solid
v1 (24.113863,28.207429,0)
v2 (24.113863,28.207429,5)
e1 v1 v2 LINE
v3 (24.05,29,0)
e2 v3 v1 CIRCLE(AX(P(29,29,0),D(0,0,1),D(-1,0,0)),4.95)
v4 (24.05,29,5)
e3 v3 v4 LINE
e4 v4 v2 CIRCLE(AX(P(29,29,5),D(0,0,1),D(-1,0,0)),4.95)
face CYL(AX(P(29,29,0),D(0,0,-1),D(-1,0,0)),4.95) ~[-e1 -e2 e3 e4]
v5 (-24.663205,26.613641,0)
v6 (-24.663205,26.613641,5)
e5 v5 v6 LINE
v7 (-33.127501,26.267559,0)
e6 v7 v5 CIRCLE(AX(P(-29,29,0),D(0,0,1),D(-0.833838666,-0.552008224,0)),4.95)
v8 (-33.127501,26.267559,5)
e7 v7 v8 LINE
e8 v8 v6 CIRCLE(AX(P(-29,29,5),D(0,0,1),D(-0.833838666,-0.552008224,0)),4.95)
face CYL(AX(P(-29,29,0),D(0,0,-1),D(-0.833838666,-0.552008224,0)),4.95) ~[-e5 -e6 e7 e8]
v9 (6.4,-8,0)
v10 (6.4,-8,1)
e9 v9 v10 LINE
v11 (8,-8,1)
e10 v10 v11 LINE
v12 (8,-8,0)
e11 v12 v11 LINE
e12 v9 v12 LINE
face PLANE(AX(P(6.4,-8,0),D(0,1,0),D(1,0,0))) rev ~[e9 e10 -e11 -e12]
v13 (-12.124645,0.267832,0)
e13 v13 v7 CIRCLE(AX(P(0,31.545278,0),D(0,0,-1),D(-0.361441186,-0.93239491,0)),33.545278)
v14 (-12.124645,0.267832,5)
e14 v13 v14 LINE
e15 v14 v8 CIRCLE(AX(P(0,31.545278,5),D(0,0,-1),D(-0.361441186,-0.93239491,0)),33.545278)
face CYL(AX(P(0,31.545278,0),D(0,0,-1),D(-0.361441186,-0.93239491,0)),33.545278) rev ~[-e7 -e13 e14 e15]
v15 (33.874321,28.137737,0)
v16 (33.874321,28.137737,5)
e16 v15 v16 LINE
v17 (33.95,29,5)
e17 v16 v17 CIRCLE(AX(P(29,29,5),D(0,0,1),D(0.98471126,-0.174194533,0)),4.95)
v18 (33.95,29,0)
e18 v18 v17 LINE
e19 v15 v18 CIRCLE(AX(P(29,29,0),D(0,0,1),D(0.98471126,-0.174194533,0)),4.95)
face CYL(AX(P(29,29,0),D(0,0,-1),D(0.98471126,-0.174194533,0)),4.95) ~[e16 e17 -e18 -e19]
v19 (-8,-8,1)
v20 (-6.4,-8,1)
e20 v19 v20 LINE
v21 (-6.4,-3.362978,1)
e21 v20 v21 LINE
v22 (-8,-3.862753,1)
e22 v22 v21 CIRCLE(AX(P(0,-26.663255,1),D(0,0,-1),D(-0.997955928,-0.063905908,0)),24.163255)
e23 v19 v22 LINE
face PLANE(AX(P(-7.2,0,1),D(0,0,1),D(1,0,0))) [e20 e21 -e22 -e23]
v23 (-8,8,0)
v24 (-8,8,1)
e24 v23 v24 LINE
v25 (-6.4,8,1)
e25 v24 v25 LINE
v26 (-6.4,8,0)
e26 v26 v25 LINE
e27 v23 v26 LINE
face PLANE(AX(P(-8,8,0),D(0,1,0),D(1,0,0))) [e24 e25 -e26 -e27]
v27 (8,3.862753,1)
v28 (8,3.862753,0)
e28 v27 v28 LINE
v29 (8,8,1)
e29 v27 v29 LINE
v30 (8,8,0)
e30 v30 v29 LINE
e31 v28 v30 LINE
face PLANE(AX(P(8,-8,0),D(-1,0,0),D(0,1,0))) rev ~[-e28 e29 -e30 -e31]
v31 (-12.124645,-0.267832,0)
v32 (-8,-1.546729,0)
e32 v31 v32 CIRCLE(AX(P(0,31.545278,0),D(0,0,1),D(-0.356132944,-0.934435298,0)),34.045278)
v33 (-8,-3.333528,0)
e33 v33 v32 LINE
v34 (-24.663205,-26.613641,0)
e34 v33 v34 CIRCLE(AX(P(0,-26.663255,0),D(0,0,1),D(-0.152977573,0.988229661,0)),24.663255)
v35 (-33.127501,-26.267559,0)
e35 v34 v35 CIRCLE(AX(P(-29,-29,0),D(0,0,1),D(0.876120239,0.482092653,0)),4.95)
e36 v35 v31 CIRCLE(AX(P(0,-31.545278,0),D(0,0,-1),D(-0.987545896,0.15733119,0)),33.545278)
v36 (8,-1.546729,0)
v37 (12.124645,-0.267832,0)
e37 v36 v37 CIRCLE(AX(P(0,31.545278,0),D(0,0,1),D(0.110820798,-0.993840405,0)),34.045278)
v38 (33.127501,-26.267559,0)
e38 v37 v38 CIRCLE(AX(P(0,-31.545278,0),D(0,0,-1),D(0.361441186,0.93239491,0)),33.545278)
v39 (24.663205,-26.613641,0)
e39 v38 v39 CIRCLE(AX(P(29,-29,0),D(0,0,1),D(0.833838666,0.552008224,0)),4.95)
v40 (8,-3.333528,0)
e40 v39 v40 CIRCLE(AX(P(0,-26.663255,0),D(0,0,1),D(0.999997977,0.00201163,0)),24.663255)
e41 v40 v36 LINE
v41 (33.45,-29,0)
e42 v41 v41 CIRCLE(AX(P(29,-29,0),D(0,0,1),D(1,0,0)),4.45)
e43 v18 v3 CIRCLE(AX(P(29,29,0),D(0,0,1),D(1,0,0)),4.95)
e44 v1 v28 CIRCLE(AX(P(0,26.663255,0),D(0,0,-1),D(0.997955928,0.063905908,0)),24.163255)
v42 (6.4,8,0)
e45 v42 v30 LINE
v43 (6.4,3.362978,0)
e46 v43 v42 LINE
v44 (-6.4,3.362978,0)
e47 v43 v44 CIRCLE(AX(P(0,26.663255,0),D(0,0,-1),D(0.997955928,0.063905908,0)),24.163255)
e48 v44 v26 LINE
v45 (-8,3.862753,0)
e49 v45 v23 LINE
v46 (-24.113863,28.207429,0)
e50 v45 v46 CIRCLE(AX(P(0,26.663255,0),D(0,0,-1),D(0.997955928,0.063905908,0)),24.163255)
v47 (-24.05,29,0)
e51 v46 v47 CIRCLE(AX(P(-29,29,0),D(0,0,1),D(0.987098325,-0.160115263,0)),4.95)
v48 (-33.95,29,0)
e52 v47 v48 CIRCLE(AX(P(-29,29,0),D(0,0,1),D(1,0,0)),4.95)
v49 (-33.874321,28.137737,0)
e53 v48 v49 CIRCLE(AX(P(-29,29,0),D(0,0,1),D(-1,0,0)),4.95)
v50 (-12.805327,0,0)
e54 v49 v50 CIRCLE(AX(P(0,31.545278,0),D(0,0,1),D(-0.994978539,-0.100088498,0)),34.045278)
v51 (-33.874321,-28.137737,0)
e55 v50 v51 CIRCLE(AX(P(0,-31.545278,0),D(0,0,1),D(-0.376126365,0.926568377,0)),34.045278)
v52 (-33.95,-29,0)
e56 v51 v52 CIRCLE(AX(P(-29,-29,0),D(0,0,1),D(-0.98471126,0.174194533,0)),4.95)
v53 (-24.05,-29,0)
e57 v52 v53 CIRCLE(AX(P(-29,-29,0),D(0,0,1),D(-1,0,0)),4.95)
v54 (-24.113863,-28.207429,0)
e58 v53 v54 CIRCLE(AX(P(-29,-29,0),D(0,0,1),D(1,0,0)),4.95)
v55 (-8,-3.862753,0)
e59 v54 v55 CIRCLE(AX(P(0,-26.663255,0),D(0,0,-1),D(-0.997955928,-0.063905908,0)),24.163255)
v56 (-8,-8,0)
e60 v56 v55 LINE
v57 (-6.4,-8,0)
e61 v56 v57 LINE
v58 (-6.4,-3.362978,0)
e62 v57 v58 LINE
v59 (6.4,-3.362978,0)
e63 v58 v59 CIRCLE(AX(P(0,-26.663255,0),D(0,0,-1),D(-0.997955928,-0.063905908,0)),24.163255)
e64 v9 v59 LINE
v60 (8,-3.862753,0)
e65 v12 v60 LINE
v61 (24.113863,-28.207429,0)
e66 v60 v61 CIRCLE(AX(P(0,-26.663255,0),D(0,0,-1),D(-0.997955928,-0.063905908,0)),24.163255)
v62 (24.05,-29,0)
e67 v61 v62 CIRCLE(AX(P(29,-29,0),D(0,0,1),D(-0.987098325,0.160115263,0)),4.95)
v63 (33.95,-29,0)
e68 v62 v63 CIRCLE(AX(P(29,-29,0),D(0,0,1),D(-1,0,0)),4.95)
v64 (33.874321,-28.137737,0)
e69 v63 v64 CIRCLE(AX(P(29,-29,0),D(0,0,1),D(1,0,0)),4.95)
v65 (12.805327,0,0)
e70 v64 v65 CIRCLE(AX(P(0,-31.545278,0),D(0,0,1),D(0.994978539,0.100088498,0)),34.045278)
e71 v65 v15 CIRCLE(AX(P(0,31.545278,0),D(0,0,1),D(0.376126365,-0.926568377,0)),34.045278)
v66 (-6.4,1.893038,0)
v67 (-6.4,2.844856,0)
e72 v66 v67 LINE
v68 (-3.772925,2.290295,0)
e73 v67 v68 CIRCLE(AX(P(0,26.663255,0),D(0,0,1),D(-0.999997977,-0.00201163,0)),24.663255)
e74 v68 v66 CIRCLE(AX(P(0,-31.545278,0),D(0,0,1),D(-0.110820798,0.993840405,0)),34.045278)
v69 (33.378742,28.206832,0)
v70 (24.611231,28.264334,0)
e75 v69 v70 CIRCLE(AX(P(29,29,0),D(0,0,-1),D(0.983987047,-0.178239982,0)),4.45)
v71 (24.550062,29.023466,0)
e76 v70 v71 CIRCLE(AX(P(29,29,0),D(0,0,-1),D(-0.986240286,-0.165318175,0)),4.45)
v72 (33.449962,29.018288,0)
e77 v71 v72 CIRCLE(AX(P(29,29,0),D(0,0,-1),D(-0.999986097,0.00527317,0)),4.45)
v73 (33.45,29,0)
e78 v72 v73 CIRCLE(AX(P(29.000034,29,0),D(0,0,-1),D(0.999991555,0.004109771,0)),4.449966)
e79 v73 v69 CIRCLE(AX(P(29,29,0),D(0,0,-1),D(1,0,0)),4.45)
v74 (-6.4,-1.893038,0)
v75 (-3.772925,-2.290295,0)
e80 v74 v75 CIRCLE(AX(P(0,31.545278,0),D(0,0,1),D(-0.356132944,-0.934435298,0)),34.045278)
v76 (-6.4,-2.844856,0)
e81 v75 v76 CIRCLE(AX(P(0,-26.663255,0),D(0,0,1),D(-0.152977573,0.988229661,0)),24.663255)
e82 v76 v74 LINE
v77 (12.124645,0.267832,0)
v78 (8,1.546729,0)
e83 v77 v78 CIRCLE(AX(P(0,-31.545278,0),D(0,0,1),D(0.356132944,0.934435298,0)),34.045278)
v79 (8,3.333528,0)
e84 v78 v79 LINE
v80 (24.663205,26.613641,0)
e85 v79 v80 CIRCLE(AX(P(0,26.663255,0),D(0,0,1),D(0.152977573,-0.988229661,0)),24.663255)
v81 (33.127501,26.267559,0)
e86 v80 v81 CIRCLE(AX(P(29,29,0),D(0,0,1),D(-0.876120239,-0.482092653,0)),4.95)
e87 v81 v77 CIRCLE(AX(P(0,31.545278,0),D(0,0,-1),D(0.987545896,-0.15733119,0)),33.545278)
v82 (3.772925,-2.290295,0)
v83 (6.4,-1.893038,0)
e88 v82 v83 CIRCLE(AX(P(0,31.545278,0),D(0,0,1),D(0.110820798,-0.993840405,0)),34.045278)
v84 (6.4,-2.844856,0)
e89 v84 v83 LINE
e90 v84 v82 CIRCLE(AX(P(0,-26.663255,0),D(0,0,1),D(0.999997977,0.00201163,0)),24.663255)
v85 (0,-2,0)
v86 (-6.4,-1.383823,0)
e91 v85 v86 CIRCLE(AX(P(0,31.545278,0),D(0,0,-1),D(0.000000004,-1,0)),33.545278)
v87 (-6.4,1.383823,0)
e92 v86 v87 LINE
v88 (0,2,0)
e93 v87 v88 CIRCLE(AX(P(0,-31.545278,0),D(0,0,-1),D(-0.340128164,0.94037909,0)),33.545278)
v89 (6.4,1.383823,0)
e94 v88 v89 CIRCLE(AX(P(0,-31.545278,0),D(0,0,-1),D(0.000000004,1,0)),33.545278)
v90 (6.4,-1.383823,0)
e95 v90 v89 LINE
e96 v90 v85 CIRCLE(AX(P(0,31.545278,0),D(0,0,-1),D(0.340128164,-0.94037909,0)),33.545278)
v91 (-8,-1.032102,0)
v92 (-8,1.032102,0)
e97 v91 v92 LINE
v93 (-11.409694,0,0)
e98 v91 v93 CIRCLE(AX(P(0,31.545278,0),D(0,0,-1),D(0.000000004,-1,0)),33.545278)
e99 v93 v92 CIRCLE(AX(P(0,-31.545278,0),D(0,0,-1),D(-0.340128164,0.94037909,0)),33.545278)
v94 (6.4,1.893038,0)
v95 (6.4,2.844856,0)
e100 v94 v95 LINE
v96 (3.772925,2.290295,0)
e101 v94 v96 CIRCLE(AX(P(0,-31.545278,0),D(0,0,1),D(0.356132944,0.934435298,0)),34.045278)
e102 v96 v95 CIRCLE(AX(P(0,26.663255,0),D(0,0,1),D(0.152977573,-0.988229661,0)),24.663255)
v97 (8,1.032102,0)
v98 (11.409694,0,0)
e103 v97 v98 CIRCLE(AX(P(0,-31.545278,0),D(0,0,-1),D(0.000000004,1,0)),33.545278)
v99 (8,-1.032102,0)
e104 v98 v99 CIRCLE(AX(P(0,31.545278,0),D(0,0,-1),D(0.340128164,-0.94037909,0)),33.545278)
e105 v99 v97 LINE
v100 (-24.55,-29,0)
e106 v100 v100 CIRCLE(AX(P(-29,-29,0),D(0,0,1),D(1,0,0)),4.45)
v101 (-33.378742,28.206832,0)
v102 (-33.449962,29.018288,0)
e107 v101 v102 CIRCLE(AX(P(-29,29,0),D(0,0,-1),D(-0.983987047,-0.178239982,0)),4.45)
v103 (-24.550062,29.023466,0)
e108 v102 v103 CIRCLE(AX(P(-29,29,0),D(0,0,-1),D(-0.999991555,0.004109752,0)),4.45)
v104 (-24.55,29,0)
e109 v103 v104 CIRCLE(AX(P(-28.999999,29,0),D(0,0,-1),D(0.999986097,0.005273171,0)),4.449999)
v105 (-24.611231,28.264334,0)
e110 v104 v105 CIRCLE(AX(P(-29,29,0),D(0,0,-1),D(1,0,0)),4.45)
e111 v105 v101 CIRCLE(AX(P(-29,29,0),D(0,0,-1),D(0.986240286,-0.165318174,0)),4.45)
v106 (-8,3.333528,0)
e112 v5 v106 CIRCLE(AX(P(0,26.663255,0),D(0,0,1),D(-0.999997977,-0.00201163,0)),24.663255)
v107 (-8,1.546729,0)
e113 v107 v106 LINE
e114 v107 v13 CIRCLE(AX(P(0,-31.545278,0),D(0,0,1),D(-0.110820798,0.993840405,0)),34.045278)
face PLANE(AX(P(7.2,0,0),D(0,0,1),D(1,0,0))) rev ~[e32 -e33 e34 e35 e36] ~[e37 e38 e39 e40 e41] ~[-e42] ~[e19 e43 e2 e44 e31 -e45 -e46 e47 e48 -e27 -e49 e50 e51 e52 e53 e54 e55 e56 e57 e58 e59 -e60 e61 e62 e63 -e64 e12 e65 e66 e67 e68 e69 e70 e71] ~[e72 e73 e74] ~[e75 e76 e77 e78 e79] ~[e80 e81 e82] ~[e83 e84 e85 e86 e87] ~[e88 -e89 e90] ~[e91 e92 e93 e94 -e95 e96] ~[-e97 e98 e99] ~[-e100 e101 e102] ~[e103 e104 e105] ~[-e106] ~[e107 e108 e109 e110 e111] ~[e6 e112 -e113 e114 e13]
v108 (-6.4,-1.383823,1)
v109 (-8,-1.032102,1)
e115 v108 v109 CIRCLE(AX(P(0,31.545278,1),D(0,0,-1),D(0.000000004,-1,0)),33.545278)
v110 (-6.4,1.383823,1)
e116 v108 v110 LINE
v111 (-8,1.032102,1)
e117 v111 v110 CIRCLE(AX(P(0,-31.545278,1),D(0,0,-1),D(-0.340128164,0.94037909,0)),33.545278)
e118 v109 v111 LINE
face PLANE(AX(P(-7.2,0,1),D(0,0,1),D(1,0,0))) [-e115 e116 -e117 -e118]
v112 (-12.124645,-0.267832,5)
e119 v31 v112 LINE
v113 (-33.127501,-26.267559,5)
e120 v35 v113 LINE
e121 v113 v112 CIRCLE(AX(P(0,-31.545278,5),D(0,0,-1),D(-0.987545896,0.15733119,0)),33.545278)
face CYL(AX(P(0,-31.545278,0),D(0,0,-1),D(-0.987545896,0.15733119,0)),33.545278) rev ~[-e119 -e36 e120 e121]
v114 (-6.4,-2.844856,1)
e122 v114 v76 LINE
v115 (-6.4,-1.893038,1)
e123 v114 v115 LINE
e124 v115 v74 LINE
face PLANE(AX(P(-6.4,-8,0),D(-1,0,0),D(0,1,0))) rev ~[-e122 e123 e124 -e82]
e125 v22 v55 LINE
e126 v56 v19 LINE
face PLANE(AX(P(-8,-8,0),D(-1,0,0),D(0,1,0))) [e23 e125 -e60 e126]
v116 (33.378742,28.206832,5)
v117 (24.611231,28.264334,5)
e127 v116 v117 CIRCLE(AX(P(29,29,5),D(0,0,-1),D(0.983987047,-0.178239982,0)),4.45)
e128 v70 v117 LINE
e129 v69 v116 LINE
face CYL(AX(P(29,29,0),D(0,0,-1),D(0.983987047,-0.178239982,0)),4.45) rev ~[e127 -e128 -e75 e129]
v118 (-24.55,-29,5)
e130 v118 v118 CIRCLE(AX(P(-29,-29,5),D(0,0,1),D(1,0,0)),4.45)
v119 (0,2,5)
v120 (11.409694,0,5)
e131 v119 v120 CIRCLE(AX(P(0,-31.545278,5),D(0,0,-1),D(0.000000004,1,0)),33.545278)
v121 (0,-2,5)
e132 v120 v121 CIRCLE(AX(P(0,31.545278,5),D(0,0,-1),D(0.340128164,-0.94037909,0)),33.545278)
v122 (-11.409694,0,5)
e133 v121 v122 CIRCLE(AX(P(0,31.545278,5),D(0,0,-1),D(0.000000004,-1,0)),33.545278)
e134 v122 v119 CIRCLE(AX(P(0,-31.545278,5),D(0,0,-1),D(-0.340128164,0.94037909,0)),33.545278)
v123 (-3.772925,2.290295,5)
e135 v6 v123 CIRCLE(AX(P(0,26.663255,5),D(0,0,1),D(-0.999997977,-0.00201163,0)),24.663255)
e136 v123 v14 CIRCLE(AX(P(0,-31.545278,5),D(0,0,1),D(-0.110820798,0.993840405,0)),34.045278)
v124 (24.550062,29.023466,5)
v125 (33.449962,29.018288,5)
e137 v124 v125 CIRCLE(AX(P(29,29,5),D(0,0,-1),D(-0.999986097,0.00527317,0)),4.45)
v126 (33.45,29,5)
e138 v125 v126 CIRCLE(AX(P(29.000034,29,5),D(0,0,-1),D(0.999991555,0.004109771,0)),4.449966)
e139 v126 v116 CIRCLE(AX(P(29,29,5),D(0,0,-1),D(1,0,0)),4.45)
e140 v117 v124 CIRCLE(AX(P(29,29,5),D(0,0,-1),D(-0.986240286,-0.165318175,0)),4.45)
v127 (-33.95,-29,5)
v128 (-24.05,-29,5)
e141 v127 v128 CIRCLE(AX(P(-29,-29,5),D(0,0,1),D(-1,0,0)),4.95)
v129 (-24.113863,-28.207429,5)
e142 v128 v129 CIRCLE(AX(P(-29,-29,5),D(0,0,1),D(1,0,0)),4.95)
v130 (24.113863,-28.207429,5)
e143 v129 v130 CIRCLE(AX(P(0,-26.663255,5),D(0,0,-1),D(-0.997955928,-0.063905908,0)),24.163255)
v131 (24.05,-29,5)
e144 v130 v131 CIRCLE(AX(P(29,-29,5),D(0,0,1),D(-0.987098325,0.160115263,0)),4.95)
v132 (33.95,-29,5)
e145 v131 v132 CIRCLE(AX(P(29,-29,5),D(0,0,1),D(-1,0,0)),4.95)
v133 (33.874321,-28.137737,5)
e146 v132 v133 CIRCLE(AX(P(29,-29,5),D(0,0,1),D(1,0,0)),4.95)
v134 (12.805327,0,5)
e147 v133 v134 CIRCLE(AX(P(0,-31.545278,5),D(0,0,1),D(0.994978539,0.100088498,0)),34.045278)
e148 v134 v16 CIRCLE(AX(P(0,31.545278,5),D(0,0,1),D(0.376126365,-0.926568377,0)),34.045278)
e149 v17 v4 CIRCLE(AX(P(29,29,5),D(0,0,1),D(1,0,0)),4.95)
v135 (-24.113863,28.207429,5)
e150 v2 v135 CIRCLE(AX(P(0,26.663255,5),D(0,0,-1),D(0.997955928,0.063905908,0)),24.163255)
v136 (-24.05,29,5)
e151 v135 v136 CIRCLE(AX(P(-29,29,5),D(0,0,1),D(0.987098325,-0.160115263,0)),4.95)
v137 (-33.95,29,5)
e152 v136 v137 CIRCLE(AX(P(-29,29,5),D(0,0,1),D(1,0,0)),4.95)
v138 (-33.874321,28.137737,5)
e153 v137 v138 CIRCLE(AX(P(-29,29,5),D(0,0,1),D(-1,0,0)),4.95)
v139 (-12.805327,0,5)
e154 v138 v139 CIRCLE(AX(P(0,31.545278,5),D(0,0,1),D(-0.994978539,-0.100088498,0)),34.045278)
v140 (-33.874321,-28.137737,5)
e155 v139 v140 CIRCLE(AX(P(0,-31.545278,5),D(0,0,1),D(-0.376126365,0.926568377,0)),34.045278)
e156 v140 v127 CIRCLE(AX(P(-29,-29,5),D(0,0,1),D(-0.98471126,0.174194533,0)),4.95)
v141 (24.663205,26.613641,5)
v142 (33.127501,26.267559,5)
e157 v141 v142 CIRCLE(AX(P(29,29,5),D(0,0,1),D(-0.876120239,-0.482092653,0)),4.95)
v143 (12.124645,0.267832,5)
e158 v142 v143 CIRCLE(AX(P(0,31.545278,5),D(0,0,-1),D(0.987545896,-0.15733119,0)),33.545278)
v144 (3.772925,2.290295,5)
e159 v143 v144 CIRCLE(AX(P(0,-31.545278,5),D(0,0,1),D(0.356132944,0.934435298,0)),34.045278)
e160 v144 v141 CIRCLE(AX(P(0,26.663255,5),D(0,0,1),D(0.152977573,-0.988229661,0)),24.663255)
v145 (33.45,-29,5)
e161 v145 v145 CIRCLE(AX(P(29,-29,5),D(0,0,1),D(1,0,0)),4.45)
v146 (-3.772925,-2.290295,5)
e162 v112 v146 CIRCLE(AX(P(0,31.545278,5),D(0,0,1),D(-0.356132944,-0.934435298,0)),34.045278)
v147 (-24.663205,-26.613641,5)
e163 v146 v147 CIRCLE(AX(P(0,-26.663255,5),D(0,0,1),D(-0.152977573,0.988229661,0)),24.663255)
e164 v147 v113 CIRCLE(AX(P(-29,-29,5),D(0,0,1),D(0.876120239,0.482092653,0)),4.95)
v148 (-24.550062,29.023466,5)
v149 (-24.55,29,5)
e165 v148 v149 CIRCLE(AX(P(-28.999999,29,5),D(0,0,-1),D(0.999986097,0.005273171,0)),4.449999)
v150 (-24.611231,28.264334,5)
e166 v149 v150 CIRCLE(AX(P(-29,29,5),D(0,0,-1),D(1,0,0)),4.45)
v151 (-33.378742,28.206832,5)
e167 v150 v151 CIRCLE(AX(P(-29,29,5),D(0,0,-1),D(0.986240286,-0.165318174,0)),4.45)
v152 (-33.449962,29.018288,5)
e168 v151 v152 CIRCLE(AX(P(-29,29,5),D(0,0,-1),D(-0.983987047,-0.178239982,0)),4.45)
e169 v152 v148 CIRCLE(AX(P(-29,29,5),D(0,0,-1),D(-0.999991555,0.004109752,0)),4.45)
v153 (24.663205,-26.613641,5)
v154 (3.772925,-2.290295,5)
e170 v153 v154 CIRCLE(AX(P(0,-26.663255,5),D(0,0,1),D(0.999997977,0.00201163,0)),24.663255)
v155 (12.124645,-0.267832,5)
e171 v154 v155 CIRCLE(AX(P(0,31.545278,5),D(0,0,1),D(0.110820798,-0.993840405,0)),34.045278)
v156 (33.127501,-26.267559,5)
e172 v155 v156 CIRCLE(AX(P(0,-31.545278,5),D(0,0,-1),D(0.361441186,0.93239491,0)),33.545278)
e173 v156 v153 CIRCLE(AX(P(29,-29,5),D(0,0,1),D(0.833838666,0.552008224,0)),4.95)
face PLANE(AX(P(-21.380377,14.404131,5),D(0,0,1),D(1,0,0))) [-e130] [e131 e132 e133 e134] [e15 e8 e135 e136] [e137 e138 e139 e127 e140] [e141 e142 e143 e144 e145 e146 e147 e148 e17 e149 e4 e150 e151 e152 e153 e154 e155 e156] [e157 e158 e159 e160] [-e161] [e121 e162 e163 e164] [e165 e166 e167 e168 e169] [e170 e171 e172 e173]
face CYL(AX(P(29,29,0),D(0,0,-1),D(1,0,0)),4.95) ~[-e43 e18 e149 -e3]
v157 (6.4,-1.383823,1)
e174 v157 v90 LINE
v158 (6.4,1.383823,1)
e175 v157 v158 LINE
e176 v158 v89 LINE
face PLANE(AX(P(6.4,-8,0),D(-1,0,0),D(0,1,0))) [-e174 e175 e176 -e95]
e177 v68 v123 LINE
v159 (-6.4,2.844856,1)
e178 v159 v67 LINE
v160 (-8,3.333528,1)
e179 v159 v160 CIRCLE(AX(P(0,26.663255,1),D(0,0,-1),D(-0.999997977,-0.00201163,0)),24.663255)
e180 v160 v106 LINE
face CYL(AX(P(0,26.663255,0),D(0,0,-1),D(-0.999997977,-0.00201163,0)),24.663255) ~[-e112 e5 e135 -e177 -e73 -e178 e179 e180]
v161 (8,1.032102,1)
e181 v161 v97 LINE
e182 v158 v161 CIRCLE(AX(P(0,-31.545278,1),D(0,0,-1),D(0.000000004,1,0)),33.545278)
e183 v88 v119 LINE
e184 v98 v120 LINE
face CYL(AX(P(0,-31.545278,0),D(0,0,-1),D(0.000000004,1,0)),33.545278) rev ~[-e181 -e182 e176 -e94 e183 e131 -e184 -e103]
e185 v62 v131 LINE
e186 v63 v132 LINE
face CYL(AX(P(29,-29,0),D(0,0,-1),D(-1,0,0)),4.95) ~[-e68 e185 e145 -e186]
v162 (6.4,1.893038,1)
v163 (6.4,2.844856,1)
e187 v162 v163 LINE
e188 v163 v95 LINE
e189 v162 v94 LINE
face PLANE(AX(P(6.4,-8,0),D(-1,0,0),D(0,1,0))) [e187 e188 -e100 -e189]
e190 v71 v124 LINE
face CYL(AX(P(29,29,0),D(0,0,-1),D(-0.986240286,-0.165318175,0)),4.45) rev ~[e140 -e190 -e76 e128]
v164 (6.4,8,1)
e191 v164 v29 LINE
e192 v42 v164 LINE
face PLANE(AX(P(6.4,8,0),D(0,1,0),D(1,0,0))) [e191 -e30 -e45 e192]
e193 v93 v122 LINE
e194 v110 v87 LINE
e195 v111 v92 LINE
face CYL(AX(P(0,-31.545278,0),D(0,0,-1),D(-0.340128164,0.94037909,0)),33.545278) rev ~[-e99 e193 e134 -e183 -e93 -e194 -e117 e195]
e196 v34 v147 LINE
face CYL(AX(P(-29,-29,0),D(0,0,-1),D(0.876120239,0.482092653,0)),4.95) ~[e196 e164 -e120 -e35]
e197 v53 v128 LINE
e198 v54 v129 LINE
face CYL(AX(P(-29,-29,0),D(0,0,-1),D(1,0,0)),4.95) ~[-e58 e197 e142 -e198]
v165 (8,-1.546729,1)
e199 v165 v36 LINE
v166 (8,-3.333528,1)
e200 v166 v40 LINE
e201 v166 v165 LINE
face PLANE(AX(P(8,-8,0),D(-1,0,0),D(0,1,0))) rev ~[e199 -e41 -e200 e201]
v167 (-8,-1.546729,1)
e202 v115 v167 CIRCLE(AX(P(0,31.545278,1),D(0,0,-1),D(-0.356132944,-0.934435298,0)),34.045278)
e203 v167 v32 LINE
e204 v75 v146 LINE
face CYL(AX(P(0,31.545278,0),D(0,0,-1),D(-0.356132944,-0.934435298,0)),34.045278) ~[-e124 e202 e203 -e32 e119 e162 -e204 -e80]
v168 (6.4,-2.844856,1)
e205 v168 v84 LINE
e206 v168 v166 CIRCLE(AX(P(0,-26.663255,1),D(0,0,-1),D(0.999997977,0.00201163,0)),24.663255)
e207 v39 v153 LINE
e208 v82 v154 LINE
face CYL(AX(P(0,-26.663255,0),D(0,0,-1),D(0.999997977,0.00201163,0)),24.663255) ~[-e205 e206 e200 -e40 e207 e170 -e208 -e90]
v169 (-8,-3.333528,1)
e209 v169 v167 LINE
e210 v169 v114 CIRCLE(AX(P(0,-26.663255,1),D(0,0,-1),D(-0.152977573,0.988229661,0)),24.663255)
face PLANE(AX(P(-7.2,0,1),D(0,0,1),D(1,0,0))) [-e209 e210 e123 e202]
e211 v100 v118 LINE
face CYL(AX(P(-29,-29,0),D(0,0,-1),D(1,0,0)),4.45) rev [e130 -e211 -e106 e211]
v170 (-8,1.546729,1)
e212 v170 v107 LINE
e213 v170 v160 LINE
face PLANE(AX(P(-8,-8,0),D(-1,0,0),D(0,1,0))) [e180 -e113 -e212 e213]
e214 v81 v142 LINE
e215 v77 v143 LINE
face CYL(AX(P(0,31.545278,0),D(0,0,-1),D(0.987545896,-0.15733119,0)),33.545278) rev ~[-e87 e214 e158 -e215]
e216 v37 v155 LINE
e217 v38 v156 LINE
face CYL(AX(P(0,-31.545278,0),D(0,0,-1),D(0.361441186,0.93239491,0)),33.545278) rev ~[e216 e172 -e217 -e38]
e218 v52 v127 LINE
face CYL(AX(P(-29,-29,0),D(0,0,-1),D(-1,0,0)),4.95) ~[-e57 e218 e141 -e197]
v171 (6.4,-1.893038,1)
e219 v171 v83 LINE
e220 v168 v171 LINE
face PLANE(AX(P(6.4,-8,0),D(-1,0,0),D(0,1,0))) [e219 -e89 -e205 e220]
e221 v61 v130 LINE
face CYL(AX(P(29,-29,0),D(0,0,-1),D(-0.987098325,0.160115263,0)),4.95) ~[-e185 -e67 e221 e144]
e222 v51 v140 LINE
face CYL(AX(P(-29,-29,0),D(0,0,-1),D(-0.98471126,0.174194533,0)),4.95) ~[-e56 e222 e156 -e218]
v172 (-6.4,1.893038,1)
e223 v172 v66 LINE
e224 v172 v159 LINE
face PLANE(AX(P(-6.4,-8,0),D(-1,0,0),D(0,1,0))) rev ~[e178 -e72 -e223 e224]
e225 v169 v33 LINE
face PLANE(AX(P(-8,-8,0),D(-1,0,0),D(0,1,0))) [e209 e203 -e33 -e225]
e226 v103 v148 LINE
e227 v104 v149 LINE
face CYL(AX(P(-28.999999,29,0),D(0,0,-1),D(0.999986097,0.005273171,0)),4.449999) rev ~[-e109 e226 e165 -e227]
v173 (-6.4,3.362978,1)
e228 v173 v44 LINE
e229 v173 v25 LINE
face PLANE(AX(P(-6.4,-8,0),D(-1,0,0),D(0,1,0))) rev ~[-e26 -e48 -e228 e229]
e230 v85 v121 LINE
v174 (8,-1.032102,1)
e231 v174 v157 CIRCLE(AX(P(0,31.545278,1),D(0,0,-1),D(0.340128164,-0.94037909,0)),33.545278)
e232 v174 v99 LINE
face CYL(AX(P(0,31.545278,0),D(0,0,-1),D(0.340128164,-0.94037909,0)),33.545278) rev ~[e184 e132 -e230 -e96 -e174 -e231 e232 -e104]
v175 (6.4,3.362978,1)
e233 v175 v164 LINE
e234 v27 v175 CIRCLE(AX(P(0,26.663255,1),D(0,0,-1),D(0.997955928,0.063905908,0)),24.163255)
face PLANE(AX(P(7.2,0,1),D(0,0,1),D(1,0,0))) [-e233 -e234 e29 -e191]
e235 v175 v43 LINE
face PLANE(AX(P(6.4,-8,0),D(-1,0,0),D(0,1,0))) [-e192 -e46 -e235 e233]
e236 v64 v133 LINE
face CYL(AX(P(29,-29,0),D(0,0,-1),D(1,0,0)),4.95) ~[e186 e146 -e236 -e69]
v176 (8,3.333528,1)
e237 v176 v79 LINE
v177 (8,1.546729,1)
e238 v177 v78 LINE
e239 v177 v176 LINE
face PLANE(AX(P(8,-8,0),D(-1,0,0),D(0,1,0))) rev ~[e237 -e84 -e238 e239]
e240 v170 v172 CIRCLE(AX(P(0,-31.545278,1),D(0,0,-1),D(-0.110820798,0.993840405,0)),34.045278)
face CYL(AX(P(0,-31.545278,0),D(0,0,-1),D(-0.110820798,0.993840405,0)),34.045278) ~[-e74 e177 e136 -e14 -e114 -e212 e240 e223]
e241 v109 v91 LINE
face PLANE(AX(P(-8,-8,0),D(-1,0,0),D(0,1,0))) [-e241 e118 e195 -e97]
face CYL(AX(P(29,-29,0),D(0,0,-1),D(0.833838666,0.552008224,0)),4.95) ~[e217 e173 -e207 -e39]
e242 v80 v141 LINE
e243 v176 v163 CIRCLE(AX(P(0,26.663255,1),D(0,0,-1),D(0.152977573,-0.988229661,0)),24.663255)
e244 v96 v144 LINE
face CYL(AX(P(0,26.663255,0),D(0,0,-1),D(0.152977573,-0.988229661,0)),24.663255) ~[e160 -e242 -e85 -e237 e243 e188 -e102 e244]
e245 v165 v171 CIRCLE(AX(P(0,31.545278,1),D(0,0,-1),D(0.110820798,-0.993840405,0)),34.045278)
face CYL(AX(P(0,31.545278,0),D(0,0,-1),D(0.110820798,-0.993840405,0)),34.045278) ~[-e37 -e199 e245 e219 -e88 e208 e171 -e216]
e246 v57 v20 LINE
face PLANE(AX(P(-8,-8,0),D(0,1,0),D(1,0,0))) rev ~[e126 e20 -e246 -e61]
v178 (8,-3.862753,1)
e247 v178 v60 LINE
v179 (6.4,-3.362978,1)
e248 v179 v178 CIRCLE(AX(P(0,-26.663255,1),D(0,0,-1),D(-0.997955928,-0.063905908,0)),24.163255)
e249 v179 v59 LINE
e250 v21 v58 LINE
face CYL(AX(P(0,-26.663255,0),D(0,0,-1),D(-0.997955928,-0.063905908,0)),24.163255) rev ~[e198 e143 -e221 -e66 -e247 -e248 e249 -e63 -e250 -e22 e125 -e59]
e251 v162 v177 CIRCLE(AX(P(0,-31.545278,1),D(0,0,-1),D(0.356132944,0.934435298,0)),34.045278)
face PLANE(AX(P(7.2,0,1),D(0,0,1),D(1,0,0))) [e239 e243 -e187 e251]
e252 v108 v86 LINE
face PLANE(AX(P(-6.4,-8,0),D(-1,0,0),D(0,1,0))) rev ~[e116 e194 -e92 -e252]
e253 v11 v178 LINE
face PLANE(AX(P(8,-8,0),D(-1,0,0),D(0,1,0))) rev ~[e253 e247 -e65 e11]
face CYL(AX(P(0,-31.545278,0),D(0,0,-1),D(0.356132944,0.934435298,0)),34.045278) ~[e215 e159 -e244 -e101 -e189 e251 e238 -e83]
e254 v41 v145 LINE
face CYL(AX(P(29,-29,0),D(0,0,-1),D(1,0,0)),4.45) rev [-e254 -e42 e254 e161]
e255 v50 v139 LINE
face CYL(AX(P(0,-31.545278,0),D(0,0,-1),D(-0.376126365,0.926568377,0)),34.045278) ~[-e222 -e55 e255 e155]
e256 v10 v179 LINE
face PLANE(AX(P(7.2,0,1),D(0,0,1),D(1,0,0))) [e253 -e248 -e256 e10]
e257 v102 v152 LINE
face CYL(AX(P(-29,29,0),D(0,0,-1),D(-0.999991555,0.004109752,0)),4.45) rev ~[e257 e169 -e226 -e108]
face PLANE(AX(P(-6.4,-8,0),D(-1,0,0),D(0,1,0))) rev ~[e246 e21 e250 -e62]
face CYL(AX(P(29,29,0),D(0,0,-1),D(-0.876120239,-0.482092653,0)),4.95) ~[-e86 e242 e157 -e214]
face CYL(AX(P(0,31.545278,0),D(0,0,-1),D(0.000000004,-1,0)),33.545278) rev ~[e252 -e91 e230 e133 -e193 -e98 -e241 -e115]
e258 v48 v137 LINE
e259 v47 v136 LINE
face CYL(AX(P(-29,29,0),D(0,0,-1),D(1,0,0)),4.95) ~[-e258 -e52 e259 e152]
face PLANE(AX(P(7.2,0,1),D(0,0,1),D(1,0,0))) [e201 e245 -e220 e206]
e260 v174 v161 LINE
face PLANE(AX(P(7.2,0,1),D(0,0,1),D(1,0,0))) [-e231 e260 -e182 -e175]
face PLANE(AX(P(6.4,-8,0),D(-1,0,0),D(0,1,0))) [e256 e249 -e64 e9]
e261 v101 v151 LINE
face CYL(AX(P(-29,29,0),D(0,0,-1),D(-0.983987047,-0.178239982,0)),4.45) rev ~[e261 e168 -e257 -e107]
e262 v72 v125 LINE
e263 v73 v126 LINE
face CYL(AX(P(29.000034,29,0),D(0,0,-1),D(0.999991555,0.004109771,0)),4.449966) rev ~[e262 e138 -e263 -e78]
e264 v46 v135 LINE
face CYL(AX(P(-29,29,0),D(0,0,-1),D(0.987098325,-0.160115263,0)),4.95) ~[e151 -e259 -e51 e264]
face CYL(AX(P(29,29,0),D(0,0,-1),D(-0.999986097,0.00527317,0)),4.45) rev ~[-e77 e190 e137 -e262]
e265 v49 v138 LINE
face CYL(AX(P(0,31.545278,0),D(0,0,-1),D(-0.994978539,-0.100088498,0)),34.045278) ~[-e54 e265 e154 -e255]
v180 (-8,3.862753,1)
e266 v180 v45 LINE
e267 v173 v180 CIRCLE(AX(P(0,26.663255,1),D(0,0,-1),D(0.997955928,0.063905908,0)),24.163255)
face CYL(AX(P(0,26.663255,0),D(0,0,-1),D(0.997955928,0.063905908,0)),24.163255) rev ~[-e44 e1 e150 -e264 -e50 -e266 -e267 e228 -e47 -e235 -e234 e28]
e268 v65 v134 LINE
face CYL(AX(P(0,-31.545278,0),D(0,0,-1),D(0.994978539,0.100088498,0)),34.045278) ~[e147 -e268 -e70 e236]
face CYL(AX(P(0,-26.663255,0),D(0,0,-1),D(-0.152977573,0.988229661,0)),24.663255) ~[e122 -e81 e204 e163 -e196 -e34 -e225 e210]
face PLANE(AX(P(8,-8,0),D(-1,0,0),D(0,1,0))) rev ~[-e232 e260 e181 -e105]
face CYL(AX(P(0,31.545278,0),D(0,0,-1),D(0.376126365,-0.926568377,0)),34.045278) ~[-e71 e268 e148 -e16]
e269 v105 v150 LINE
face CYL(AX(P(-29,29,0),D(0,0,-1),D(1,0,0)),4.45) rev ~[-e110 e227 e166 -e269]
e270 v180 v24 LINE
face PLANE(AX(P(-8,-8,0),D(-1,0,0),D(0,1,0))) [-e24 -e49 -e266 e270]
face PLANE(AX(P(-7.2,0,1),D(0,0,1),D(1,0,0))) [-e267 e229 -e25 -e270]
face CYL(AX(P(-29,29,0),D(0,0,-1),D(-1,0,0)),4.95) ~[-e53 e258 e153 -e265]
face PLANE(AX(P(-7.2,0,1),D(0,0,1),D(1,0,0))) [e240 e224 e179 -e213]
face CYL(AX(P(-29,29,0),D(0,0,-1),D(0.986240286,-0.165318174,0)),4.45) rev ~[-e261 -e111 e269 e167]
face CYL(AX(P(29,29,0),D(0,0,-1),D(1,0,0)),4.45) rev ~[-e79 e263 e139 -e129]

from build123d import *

# Parameters (mm, degrees)
F0_R     = 4.45
F1_DEPTH = 5
F2_W     = 1.6
F2_H     = 16
F3_DEPTH = 1


with BuildPart() as f1:
    # F0 (on Top) → F1 (new body)
    with BuildSketch(Plane.XY):
        with BuildLine():
            ThreePointArc((-12.1246449961, 0.267831512), (-26.0947437129, 10.4656664971), (-33.1275013965, 26.2675592921))
            ThreePointArc((-33.1275013965, 26.2675592921), (-28.7977769223, 24.0541324495), (-24.6632048151, 26.6136413673))
            ThreePointArc((-24.6632048151, 26.6136413673), (-18.7098814469, 10.5941393251), (-3.7729248553, 2.2902948789))
            ThreePointArc((-3.7729248553, 2.2902948789), (-1.8893740867, 2.4475332935), (5.87e-08, 2.5))
            ThreePointArc((5.87e-08, 2.5), (-17.6234951757, 10.132214329), (-24.1138632932, 28.2074294465))
            ThreePointArc((-24.1138632932, 28.2074294465), (-24.0851920036, 28.6039774344), (-24.05, 29))
            ThreePointArc((-24.05, 29), (-29, 33.95), (-33.95, 29))
            ThreePointArc((-33.95, 29), (-33.914900783, 28.5686280089), (-33.8743207345, 28.1377370604))
            ThreePointArc((-33.8743207345, 28.1377370604), (-27.2521637698, 11.1393838049), (-12.8053265827, 0))
            ThreePointArc((-12.8053265827, 0), (-12.4657051208, 0.1357439041), (-12.1246449961, 0.267831512))
        make_face()
        with BuildLine():
            ThreePointArc((-24.6112307284, 28.2643341244), (-28.9708151416, 24.5500957039), (-33.3787423598, 28.206832082))
            ThreePointArc((-33.3787423598, 28.206832082), (-33.4329586461, 28.6109272024), (-33.4499624194, 29.0182883979))
            ThreePointArc((-33.4499624194, 29.0182883979), (-29.0025886323, 33.4499992471), (-24.5500618695, 29.0234656056))
            ThreePointArc((-24.5500618695, 29.0234656056), (-24.5500154674, 29.0117328436), (-24.55, 29))
            ThreePointArc((-24.55, 29), (-24.5653341017, 28.6308951766), (-24.6112307284, 28.2643341244))
        make_face(mode=Mode.SUBTRACT)
        with BuildLine():
            ThreePointArc((-11.4096937343, 0), (-11.7679313517, 0.131881704), (-12.1246449961, 0.267831512))
            ThreePointArc((-12.1246449961, 0.267831512), (-12.4657051208, 0.1357439041), (-12.8053265827, 0))
            ThreePointArc((-12.8053265827, 0), (-12.4657051208, -0.1357439041), (-12.1246449961, -0.267831512))
            ThreePointArc((-12.1246449961, -0.267831512), (-11.7679313517, -0.131881704), (-11.4096937343, 0))
        make_face()
        with BuildLine():
            ThreePointArc((5.87e-08, 2.5), (-1.8893740867, 2.4475332935), (-3.7729248553, 2.2902948789))
            ThreePointArc((-3.7729248553, 2.2902948789), (-1.8920380566, 2.0726808069), (1.392e-07, 2))
            ThreePointArc((1.392e-07, 2), (1.8920381954, 2.0726808176), (3.7729248553, 2.2902948789))
            ThreePointArc((3.7729248553, 2.2902948789), (1.8893741454, 2.4475332902), (5.87e-08, 2.5))
        make_face()
        with BuildLine():
            ThreePointArc((-12.1246449961, -0.267831512), (-12.4657051208, -0.1357439041), (-12.8053265827, 0))
            ThreePointArc((-12.8053265827, 0), (-27.2521637698, -11.1393838049), (-33.8743207345, -28.1377370604))
            ThreePointArc((-33.8743207345, -28.1377370604), (-33.914900783, -28.5686280089), (-33.95, -29))
            ThreePointArc((-33.95, -29), (-29, -33.95), (-24.05, -29))
            ThreePointArc((-24.05, -29), (-24.0851920036, -28.6039774344), (-24.1138632932, -28.2074294465))
            ThreePointArc((-24.1138632932, -28.2074294465), (-17.6234951757, -10.132214329), (5.87e-08, -2.5))
            ThreePointArc((5.87e-08, -2.5), (-1.8893740867, -2.4475332935), (-3.7729248553, -2.2902948789))
            ThreePointArc((-3.7729248553, -2.2902948789), (-18.7098814469, -10.5941393251), (-24.6632048151, -26.6136413673))
            ThreePointArc((-24.6632048151, -26.6136413673), (-28.7977769223, -24.0541324495), (-33.1275013965, -26.2675592921))
            ThreePointArc((-33.1275013965, -26.2675592921), (-26.0947437129, -10.4656664971), (-12.1246449961, -0.267831512))
        make_face()
        with Locations((-29, -29)):
            Circle(F0_R, mode=Mode.SUBTRACT)
        with BuildLine():
            ThreePointArc((24.1138632932, 28.2074294465), (17.6234952159, 10.1322143718), (5.87e-08, 2.5))
            ThreePointArc((5.87e-08, 2.5), (1.8893741454, 2.4475332902), (3.7729248553, 2.2902948789))
            ThreePointArc((3.7729248553, 2.2902948789), (18.7098814469, 10.5941393251), (24.6632048151, 26.6136413673))
            ThreePointArc((24.6632048151, 26.6136413673), (28.7977769223, 24.0541324495), (33.1275013965, 26.2675592921))
            ThreePointArc((33.1275013965, 26.2675592921), (26.0947437129, 10.4656664971), (12.1246449961, 0.267831512))
            ThreePointArc((12.1246449961, 0.267831512), (12.4657051208, 0.1357439041), (12.8053265827, 0))
            ThreePointArc((12.8053265827, 0), (27.2521637698, 11.1393838049), (33.8743207345, 28.1377370604))
            ThreePointArc((33.8743207345, 28.1377370604), (33.914900783, 28.5686280089), (33.95, 29))
            ThreePointArc((33.95, 29), (29, 33.95), (24.05, 29))
            ThreePointArc((24.05, 29), (24.0851920036, 28.6039774344), (24.1138632932, 28.2074294465))
        make_face()
        with BuildLine():
            ThreePointArc((33.3787423598, 28.206832082), (28.9708151416, 24.5500957039), (24.6112307284, 28.2643341244))
            ThreePointArc((24.6112307284, 28.2643341244), (24.5643763362, 28.6425888733), (24.5500618695, 29.0234656056))
            ThreePointArc((24.5500618695, 29.0234656056), (29.0025886323, 33.4499992471), (33.4499624194, 29.0182883979))
            ThreePointArc((33.4499624194, 29.0182883979), (33.4499906049, 29.0091442183), (33.45, 29))
            ThreePointArc((33.45, 29), (33.4321497888, 28.6018188235), (33.3787423598, 28.206832082))
        make_face(mode=Mode.SUBTRACT)
        with BuildLine():
            ThreePointArc((3.7729248553, -2.2902948789), (1.8920381954, -2.0726808176), (1.392e-07, -2))
            ThreePointArc((1.392e-07, -2), (-1.8920380566, -2.0726808069), (-3.7729248553, -2.2902948789))
            ThreePointArc((-3.7729248553, -2.2902948789), (-1.8893740867, -2.4475332935), (5.87e-08, -2.5))
            ThreePointArc((5.87e-08, -2.5), (1.8893741454, -2.4475332902), (3.7729248553, -2.2902948789))
        make_face()
        with BuildLine():
            ThreePointArc((-33.95, 29), (-33.9310438872, 28.5672111577), (-33.8743207345, 28.1377370604))
            ThreePointArc((-33.8743207345, 28.1377370604), (-33.914900783, 28.5686280089), (-33.95, 29))
        make_face()
        with BuildLine():
            ThreePointArc((-33.95, -29), (-33.914900783, -28.5686280089), (-33.8743207345, -28.1377370604))
            ThreePointArc((-33.8743207345, -28.1377370604), (-33.9310438872, -28.5672111577), (-33.95, -29))
        make_face()
        with BuildLine():
            ThreePointArc((12.1246449961, 0.267831512), (11.7679313517, 0.131881704), (11.4096937343, 0))
            ThreePointArc((11.4096937343, 0), (11.7679313517, -0.131881704), (12.1246449961, -0.267831512))
            ThreePointArc((12.1246449961, -0.267831512), (12.4657051208, -0.1357439041), (12.8053265827, 0))
            ThreePointArc((12.8053265827, 0), (12.4657051208, 0.1357439041), (12.1246449961, 0.267831512))
        make_face()
        with BuildLine():
            ThreePointArc((-24.05, 29), (-24.0851920036, 28.6039774344), (-24.1138632932, 28.2074294465))
            ThreePointArc((-24.1138632932, 28.2074294465), (-24.0659916549, 28.6024303198), (-24.05, 29))
        make_face()
        with BuildLine():
            ThreePointArc((24.05, 29), (24.0659916549, 28.6024303198), (24.1138632932, 28.2074294465))
            ThreePointArc((24.1138632932, 28.2074294465), (24.0851920036, 28.6039774344), (24.05, 29))
        make_face()
        with BuildLine():
            ThreePointArc((24.6632048151, -26.6136413673), (18.7098814469, -10.5941393251), (3.7729248553, -2.2902948789))
            ThreePointArc((3.7729248553, -2.2902948789), (1.8893741454, -2.4475332902), (5.87e-08, -2.5))
            ThreePointArc((5.87e-08, -2.5), (17.6234952159, -10.1322143718), (24.1138632932, -28.2074294465))
            ThreePointArc((24.1138632932, -28.2074294465), (24.0851920036, -28.6039774344), (24.05, -29))
            ThreePointArc((24.05, -29), (29, -33.95), (33.95, -29))
            ThreePointArc((33.95, -29), (33.914900783, -28.5686280089), (33.8743207345, -28.1377370604))
            ThreePointArc((33.8743207345, -28.1377370604), (27.2521637698, -11.1393838049), (12.8053265827, 0))
            ThreePointArc((12.8053265827, 0), (12.4657051208, -0.1357439041), (12.1246449961, -0.267831512))
            ThreePointArc((12.1246449961, -0.267831512), (26.0947437129, -10.4656664971), (33.1275013965, -26.2675592921))
            ThreePointArc((33.1275013965, -26.2675592921), (28.7977769223, -24.0541324495), (24.6632048151, -26.6136413673))
        make_face()
        with Locations((29, -29)):
            Circle(F0_R, mode=Mode.SUBTRACT)
        with BuildLine():
            ThreePointArc((-24.1138632932, -28.2074294465), (-24.0851920036, -28.6039774344), (-24.05, -29))
            ThreePointArc((-24.05, -29), (-24.0659916549, -28.6024303198), (-24.1138632932, -28.2074294465))
        make_face()
        with BuildLine():
            ThreePointArc((33.8743207345, 28.1377370604), (33.9310438872, 28.5672111577), (33.95, 29))
            ThreePointArc((33.95, 29), (33.914900783, 28.5686280089), (33.8743207345, 28.1377370604))
        make_face()
        with BuildLine():
            ThreePointArc((24.05, -29), (24.0851920036, -28.6039774344), (24.1138632932, -28.2074294465))
            ThreePointArc((24.1138632932, -28.2074294465), (24.0659916549, -28.6024303198), (24.05, -29))
        make_face()
        with BuildLine():
            ThreePointArc((33.95, -29), (33.9310438872, -28.5672111577), (33.8743207345, -28.1377370604))
            ThreePointArc((33.8743207345, -28.1377370604), (33.914900783, -28.5686280089), (33.95, -29))
        make_face()
        with BuildLine():
            ThreePointArc((-3.7729248553, 2.2902948789), (-8.0128503863, 1.5436201739), (-12.1246449961, 0.267831512))
            ThreePointArc((-12.1246449961, 0.267831512), (-11.7679313517, 0.131881704), (-11.4096937343, 0))
            ThreePointArc((-11.4096937343, 0), (-5.7918284664, 1.4962171068), (1.392e-07, 2))
            ThreePointArc((1.392e-07, 2), (-1.8920380566, 2.0726808069), (-3.7729248553, 2.2902948789))
        make_face()
        with BuildLine():
            ThreePointArc((1.392e-07, -2), (-5.7918284664, -1.4962171068), (-11.4096937343, 0))
            ThreePointArc((-11.4096937343, 0), (-11.7679313517, -0.131881704), (-12.1246449961, -0.267831512))
            ThreePointArc((-12.1246449961, -0.267831512), (-8.0128503863, -1.5436201739), (-3.7729248553, -2.2902948789))
            ThreePointArc((-3.7729248553, -2.2902948789), (-1.8920380566, -2.0726808069), (1.392e-07, -2))
        make_face()
        with BuildLine():
            ThreePointArc((11.4096937343, 0), (5.7918286035, -1.4962170827), (1.392e-07, -2))
            ThreePointArc((1.392e-07, -2), (1.8920381954, -2.0726808176), (3.7729248553, -2.2902948789))
            ThreePointArc((3.7729248553, -2.2902948789), (8.0128503863, -1.5436201739), (12.1246449961, -0.267831512))
            ThreePointArc((12.1246449961, -0.267831512), (11.7679313517, -0.131881704), (11.4096937343, 0))
        make_face()
        with BuildLine():
            ThreePointArc((3.7729248553, 2.2902948789), (1.8920381954, 2.0726808176), (1.392e-07, 2))
            ThreePointArc((1.392e-07, 2), (5.7918286035, 1.4962170827), (11.4096937343, 0))
            ThreePointArc((11.4096937343, 0), (11.7679313517, 0.131881704), (12.1246449961, 0.267831512))
            ThreePointArc((12.1246449961, 0.267831512), (8.0128503863, 1.5436201739), (3.7729248553, 2.2902948789))
        make_face()
    extrude(amount=F1_DEPTH)

    # F2 (on Top) → F3 (join)
    with BuildSketch(Plane.XY):
        with Locations((7.2, 0)):
            Rectangle(F2_W, F2_H)
        with Locations((-7.2, 0)):
            Rectangle(F2_W, F2_H)
    extrude(amount=F3_DEPTH)


solid = f1.part
